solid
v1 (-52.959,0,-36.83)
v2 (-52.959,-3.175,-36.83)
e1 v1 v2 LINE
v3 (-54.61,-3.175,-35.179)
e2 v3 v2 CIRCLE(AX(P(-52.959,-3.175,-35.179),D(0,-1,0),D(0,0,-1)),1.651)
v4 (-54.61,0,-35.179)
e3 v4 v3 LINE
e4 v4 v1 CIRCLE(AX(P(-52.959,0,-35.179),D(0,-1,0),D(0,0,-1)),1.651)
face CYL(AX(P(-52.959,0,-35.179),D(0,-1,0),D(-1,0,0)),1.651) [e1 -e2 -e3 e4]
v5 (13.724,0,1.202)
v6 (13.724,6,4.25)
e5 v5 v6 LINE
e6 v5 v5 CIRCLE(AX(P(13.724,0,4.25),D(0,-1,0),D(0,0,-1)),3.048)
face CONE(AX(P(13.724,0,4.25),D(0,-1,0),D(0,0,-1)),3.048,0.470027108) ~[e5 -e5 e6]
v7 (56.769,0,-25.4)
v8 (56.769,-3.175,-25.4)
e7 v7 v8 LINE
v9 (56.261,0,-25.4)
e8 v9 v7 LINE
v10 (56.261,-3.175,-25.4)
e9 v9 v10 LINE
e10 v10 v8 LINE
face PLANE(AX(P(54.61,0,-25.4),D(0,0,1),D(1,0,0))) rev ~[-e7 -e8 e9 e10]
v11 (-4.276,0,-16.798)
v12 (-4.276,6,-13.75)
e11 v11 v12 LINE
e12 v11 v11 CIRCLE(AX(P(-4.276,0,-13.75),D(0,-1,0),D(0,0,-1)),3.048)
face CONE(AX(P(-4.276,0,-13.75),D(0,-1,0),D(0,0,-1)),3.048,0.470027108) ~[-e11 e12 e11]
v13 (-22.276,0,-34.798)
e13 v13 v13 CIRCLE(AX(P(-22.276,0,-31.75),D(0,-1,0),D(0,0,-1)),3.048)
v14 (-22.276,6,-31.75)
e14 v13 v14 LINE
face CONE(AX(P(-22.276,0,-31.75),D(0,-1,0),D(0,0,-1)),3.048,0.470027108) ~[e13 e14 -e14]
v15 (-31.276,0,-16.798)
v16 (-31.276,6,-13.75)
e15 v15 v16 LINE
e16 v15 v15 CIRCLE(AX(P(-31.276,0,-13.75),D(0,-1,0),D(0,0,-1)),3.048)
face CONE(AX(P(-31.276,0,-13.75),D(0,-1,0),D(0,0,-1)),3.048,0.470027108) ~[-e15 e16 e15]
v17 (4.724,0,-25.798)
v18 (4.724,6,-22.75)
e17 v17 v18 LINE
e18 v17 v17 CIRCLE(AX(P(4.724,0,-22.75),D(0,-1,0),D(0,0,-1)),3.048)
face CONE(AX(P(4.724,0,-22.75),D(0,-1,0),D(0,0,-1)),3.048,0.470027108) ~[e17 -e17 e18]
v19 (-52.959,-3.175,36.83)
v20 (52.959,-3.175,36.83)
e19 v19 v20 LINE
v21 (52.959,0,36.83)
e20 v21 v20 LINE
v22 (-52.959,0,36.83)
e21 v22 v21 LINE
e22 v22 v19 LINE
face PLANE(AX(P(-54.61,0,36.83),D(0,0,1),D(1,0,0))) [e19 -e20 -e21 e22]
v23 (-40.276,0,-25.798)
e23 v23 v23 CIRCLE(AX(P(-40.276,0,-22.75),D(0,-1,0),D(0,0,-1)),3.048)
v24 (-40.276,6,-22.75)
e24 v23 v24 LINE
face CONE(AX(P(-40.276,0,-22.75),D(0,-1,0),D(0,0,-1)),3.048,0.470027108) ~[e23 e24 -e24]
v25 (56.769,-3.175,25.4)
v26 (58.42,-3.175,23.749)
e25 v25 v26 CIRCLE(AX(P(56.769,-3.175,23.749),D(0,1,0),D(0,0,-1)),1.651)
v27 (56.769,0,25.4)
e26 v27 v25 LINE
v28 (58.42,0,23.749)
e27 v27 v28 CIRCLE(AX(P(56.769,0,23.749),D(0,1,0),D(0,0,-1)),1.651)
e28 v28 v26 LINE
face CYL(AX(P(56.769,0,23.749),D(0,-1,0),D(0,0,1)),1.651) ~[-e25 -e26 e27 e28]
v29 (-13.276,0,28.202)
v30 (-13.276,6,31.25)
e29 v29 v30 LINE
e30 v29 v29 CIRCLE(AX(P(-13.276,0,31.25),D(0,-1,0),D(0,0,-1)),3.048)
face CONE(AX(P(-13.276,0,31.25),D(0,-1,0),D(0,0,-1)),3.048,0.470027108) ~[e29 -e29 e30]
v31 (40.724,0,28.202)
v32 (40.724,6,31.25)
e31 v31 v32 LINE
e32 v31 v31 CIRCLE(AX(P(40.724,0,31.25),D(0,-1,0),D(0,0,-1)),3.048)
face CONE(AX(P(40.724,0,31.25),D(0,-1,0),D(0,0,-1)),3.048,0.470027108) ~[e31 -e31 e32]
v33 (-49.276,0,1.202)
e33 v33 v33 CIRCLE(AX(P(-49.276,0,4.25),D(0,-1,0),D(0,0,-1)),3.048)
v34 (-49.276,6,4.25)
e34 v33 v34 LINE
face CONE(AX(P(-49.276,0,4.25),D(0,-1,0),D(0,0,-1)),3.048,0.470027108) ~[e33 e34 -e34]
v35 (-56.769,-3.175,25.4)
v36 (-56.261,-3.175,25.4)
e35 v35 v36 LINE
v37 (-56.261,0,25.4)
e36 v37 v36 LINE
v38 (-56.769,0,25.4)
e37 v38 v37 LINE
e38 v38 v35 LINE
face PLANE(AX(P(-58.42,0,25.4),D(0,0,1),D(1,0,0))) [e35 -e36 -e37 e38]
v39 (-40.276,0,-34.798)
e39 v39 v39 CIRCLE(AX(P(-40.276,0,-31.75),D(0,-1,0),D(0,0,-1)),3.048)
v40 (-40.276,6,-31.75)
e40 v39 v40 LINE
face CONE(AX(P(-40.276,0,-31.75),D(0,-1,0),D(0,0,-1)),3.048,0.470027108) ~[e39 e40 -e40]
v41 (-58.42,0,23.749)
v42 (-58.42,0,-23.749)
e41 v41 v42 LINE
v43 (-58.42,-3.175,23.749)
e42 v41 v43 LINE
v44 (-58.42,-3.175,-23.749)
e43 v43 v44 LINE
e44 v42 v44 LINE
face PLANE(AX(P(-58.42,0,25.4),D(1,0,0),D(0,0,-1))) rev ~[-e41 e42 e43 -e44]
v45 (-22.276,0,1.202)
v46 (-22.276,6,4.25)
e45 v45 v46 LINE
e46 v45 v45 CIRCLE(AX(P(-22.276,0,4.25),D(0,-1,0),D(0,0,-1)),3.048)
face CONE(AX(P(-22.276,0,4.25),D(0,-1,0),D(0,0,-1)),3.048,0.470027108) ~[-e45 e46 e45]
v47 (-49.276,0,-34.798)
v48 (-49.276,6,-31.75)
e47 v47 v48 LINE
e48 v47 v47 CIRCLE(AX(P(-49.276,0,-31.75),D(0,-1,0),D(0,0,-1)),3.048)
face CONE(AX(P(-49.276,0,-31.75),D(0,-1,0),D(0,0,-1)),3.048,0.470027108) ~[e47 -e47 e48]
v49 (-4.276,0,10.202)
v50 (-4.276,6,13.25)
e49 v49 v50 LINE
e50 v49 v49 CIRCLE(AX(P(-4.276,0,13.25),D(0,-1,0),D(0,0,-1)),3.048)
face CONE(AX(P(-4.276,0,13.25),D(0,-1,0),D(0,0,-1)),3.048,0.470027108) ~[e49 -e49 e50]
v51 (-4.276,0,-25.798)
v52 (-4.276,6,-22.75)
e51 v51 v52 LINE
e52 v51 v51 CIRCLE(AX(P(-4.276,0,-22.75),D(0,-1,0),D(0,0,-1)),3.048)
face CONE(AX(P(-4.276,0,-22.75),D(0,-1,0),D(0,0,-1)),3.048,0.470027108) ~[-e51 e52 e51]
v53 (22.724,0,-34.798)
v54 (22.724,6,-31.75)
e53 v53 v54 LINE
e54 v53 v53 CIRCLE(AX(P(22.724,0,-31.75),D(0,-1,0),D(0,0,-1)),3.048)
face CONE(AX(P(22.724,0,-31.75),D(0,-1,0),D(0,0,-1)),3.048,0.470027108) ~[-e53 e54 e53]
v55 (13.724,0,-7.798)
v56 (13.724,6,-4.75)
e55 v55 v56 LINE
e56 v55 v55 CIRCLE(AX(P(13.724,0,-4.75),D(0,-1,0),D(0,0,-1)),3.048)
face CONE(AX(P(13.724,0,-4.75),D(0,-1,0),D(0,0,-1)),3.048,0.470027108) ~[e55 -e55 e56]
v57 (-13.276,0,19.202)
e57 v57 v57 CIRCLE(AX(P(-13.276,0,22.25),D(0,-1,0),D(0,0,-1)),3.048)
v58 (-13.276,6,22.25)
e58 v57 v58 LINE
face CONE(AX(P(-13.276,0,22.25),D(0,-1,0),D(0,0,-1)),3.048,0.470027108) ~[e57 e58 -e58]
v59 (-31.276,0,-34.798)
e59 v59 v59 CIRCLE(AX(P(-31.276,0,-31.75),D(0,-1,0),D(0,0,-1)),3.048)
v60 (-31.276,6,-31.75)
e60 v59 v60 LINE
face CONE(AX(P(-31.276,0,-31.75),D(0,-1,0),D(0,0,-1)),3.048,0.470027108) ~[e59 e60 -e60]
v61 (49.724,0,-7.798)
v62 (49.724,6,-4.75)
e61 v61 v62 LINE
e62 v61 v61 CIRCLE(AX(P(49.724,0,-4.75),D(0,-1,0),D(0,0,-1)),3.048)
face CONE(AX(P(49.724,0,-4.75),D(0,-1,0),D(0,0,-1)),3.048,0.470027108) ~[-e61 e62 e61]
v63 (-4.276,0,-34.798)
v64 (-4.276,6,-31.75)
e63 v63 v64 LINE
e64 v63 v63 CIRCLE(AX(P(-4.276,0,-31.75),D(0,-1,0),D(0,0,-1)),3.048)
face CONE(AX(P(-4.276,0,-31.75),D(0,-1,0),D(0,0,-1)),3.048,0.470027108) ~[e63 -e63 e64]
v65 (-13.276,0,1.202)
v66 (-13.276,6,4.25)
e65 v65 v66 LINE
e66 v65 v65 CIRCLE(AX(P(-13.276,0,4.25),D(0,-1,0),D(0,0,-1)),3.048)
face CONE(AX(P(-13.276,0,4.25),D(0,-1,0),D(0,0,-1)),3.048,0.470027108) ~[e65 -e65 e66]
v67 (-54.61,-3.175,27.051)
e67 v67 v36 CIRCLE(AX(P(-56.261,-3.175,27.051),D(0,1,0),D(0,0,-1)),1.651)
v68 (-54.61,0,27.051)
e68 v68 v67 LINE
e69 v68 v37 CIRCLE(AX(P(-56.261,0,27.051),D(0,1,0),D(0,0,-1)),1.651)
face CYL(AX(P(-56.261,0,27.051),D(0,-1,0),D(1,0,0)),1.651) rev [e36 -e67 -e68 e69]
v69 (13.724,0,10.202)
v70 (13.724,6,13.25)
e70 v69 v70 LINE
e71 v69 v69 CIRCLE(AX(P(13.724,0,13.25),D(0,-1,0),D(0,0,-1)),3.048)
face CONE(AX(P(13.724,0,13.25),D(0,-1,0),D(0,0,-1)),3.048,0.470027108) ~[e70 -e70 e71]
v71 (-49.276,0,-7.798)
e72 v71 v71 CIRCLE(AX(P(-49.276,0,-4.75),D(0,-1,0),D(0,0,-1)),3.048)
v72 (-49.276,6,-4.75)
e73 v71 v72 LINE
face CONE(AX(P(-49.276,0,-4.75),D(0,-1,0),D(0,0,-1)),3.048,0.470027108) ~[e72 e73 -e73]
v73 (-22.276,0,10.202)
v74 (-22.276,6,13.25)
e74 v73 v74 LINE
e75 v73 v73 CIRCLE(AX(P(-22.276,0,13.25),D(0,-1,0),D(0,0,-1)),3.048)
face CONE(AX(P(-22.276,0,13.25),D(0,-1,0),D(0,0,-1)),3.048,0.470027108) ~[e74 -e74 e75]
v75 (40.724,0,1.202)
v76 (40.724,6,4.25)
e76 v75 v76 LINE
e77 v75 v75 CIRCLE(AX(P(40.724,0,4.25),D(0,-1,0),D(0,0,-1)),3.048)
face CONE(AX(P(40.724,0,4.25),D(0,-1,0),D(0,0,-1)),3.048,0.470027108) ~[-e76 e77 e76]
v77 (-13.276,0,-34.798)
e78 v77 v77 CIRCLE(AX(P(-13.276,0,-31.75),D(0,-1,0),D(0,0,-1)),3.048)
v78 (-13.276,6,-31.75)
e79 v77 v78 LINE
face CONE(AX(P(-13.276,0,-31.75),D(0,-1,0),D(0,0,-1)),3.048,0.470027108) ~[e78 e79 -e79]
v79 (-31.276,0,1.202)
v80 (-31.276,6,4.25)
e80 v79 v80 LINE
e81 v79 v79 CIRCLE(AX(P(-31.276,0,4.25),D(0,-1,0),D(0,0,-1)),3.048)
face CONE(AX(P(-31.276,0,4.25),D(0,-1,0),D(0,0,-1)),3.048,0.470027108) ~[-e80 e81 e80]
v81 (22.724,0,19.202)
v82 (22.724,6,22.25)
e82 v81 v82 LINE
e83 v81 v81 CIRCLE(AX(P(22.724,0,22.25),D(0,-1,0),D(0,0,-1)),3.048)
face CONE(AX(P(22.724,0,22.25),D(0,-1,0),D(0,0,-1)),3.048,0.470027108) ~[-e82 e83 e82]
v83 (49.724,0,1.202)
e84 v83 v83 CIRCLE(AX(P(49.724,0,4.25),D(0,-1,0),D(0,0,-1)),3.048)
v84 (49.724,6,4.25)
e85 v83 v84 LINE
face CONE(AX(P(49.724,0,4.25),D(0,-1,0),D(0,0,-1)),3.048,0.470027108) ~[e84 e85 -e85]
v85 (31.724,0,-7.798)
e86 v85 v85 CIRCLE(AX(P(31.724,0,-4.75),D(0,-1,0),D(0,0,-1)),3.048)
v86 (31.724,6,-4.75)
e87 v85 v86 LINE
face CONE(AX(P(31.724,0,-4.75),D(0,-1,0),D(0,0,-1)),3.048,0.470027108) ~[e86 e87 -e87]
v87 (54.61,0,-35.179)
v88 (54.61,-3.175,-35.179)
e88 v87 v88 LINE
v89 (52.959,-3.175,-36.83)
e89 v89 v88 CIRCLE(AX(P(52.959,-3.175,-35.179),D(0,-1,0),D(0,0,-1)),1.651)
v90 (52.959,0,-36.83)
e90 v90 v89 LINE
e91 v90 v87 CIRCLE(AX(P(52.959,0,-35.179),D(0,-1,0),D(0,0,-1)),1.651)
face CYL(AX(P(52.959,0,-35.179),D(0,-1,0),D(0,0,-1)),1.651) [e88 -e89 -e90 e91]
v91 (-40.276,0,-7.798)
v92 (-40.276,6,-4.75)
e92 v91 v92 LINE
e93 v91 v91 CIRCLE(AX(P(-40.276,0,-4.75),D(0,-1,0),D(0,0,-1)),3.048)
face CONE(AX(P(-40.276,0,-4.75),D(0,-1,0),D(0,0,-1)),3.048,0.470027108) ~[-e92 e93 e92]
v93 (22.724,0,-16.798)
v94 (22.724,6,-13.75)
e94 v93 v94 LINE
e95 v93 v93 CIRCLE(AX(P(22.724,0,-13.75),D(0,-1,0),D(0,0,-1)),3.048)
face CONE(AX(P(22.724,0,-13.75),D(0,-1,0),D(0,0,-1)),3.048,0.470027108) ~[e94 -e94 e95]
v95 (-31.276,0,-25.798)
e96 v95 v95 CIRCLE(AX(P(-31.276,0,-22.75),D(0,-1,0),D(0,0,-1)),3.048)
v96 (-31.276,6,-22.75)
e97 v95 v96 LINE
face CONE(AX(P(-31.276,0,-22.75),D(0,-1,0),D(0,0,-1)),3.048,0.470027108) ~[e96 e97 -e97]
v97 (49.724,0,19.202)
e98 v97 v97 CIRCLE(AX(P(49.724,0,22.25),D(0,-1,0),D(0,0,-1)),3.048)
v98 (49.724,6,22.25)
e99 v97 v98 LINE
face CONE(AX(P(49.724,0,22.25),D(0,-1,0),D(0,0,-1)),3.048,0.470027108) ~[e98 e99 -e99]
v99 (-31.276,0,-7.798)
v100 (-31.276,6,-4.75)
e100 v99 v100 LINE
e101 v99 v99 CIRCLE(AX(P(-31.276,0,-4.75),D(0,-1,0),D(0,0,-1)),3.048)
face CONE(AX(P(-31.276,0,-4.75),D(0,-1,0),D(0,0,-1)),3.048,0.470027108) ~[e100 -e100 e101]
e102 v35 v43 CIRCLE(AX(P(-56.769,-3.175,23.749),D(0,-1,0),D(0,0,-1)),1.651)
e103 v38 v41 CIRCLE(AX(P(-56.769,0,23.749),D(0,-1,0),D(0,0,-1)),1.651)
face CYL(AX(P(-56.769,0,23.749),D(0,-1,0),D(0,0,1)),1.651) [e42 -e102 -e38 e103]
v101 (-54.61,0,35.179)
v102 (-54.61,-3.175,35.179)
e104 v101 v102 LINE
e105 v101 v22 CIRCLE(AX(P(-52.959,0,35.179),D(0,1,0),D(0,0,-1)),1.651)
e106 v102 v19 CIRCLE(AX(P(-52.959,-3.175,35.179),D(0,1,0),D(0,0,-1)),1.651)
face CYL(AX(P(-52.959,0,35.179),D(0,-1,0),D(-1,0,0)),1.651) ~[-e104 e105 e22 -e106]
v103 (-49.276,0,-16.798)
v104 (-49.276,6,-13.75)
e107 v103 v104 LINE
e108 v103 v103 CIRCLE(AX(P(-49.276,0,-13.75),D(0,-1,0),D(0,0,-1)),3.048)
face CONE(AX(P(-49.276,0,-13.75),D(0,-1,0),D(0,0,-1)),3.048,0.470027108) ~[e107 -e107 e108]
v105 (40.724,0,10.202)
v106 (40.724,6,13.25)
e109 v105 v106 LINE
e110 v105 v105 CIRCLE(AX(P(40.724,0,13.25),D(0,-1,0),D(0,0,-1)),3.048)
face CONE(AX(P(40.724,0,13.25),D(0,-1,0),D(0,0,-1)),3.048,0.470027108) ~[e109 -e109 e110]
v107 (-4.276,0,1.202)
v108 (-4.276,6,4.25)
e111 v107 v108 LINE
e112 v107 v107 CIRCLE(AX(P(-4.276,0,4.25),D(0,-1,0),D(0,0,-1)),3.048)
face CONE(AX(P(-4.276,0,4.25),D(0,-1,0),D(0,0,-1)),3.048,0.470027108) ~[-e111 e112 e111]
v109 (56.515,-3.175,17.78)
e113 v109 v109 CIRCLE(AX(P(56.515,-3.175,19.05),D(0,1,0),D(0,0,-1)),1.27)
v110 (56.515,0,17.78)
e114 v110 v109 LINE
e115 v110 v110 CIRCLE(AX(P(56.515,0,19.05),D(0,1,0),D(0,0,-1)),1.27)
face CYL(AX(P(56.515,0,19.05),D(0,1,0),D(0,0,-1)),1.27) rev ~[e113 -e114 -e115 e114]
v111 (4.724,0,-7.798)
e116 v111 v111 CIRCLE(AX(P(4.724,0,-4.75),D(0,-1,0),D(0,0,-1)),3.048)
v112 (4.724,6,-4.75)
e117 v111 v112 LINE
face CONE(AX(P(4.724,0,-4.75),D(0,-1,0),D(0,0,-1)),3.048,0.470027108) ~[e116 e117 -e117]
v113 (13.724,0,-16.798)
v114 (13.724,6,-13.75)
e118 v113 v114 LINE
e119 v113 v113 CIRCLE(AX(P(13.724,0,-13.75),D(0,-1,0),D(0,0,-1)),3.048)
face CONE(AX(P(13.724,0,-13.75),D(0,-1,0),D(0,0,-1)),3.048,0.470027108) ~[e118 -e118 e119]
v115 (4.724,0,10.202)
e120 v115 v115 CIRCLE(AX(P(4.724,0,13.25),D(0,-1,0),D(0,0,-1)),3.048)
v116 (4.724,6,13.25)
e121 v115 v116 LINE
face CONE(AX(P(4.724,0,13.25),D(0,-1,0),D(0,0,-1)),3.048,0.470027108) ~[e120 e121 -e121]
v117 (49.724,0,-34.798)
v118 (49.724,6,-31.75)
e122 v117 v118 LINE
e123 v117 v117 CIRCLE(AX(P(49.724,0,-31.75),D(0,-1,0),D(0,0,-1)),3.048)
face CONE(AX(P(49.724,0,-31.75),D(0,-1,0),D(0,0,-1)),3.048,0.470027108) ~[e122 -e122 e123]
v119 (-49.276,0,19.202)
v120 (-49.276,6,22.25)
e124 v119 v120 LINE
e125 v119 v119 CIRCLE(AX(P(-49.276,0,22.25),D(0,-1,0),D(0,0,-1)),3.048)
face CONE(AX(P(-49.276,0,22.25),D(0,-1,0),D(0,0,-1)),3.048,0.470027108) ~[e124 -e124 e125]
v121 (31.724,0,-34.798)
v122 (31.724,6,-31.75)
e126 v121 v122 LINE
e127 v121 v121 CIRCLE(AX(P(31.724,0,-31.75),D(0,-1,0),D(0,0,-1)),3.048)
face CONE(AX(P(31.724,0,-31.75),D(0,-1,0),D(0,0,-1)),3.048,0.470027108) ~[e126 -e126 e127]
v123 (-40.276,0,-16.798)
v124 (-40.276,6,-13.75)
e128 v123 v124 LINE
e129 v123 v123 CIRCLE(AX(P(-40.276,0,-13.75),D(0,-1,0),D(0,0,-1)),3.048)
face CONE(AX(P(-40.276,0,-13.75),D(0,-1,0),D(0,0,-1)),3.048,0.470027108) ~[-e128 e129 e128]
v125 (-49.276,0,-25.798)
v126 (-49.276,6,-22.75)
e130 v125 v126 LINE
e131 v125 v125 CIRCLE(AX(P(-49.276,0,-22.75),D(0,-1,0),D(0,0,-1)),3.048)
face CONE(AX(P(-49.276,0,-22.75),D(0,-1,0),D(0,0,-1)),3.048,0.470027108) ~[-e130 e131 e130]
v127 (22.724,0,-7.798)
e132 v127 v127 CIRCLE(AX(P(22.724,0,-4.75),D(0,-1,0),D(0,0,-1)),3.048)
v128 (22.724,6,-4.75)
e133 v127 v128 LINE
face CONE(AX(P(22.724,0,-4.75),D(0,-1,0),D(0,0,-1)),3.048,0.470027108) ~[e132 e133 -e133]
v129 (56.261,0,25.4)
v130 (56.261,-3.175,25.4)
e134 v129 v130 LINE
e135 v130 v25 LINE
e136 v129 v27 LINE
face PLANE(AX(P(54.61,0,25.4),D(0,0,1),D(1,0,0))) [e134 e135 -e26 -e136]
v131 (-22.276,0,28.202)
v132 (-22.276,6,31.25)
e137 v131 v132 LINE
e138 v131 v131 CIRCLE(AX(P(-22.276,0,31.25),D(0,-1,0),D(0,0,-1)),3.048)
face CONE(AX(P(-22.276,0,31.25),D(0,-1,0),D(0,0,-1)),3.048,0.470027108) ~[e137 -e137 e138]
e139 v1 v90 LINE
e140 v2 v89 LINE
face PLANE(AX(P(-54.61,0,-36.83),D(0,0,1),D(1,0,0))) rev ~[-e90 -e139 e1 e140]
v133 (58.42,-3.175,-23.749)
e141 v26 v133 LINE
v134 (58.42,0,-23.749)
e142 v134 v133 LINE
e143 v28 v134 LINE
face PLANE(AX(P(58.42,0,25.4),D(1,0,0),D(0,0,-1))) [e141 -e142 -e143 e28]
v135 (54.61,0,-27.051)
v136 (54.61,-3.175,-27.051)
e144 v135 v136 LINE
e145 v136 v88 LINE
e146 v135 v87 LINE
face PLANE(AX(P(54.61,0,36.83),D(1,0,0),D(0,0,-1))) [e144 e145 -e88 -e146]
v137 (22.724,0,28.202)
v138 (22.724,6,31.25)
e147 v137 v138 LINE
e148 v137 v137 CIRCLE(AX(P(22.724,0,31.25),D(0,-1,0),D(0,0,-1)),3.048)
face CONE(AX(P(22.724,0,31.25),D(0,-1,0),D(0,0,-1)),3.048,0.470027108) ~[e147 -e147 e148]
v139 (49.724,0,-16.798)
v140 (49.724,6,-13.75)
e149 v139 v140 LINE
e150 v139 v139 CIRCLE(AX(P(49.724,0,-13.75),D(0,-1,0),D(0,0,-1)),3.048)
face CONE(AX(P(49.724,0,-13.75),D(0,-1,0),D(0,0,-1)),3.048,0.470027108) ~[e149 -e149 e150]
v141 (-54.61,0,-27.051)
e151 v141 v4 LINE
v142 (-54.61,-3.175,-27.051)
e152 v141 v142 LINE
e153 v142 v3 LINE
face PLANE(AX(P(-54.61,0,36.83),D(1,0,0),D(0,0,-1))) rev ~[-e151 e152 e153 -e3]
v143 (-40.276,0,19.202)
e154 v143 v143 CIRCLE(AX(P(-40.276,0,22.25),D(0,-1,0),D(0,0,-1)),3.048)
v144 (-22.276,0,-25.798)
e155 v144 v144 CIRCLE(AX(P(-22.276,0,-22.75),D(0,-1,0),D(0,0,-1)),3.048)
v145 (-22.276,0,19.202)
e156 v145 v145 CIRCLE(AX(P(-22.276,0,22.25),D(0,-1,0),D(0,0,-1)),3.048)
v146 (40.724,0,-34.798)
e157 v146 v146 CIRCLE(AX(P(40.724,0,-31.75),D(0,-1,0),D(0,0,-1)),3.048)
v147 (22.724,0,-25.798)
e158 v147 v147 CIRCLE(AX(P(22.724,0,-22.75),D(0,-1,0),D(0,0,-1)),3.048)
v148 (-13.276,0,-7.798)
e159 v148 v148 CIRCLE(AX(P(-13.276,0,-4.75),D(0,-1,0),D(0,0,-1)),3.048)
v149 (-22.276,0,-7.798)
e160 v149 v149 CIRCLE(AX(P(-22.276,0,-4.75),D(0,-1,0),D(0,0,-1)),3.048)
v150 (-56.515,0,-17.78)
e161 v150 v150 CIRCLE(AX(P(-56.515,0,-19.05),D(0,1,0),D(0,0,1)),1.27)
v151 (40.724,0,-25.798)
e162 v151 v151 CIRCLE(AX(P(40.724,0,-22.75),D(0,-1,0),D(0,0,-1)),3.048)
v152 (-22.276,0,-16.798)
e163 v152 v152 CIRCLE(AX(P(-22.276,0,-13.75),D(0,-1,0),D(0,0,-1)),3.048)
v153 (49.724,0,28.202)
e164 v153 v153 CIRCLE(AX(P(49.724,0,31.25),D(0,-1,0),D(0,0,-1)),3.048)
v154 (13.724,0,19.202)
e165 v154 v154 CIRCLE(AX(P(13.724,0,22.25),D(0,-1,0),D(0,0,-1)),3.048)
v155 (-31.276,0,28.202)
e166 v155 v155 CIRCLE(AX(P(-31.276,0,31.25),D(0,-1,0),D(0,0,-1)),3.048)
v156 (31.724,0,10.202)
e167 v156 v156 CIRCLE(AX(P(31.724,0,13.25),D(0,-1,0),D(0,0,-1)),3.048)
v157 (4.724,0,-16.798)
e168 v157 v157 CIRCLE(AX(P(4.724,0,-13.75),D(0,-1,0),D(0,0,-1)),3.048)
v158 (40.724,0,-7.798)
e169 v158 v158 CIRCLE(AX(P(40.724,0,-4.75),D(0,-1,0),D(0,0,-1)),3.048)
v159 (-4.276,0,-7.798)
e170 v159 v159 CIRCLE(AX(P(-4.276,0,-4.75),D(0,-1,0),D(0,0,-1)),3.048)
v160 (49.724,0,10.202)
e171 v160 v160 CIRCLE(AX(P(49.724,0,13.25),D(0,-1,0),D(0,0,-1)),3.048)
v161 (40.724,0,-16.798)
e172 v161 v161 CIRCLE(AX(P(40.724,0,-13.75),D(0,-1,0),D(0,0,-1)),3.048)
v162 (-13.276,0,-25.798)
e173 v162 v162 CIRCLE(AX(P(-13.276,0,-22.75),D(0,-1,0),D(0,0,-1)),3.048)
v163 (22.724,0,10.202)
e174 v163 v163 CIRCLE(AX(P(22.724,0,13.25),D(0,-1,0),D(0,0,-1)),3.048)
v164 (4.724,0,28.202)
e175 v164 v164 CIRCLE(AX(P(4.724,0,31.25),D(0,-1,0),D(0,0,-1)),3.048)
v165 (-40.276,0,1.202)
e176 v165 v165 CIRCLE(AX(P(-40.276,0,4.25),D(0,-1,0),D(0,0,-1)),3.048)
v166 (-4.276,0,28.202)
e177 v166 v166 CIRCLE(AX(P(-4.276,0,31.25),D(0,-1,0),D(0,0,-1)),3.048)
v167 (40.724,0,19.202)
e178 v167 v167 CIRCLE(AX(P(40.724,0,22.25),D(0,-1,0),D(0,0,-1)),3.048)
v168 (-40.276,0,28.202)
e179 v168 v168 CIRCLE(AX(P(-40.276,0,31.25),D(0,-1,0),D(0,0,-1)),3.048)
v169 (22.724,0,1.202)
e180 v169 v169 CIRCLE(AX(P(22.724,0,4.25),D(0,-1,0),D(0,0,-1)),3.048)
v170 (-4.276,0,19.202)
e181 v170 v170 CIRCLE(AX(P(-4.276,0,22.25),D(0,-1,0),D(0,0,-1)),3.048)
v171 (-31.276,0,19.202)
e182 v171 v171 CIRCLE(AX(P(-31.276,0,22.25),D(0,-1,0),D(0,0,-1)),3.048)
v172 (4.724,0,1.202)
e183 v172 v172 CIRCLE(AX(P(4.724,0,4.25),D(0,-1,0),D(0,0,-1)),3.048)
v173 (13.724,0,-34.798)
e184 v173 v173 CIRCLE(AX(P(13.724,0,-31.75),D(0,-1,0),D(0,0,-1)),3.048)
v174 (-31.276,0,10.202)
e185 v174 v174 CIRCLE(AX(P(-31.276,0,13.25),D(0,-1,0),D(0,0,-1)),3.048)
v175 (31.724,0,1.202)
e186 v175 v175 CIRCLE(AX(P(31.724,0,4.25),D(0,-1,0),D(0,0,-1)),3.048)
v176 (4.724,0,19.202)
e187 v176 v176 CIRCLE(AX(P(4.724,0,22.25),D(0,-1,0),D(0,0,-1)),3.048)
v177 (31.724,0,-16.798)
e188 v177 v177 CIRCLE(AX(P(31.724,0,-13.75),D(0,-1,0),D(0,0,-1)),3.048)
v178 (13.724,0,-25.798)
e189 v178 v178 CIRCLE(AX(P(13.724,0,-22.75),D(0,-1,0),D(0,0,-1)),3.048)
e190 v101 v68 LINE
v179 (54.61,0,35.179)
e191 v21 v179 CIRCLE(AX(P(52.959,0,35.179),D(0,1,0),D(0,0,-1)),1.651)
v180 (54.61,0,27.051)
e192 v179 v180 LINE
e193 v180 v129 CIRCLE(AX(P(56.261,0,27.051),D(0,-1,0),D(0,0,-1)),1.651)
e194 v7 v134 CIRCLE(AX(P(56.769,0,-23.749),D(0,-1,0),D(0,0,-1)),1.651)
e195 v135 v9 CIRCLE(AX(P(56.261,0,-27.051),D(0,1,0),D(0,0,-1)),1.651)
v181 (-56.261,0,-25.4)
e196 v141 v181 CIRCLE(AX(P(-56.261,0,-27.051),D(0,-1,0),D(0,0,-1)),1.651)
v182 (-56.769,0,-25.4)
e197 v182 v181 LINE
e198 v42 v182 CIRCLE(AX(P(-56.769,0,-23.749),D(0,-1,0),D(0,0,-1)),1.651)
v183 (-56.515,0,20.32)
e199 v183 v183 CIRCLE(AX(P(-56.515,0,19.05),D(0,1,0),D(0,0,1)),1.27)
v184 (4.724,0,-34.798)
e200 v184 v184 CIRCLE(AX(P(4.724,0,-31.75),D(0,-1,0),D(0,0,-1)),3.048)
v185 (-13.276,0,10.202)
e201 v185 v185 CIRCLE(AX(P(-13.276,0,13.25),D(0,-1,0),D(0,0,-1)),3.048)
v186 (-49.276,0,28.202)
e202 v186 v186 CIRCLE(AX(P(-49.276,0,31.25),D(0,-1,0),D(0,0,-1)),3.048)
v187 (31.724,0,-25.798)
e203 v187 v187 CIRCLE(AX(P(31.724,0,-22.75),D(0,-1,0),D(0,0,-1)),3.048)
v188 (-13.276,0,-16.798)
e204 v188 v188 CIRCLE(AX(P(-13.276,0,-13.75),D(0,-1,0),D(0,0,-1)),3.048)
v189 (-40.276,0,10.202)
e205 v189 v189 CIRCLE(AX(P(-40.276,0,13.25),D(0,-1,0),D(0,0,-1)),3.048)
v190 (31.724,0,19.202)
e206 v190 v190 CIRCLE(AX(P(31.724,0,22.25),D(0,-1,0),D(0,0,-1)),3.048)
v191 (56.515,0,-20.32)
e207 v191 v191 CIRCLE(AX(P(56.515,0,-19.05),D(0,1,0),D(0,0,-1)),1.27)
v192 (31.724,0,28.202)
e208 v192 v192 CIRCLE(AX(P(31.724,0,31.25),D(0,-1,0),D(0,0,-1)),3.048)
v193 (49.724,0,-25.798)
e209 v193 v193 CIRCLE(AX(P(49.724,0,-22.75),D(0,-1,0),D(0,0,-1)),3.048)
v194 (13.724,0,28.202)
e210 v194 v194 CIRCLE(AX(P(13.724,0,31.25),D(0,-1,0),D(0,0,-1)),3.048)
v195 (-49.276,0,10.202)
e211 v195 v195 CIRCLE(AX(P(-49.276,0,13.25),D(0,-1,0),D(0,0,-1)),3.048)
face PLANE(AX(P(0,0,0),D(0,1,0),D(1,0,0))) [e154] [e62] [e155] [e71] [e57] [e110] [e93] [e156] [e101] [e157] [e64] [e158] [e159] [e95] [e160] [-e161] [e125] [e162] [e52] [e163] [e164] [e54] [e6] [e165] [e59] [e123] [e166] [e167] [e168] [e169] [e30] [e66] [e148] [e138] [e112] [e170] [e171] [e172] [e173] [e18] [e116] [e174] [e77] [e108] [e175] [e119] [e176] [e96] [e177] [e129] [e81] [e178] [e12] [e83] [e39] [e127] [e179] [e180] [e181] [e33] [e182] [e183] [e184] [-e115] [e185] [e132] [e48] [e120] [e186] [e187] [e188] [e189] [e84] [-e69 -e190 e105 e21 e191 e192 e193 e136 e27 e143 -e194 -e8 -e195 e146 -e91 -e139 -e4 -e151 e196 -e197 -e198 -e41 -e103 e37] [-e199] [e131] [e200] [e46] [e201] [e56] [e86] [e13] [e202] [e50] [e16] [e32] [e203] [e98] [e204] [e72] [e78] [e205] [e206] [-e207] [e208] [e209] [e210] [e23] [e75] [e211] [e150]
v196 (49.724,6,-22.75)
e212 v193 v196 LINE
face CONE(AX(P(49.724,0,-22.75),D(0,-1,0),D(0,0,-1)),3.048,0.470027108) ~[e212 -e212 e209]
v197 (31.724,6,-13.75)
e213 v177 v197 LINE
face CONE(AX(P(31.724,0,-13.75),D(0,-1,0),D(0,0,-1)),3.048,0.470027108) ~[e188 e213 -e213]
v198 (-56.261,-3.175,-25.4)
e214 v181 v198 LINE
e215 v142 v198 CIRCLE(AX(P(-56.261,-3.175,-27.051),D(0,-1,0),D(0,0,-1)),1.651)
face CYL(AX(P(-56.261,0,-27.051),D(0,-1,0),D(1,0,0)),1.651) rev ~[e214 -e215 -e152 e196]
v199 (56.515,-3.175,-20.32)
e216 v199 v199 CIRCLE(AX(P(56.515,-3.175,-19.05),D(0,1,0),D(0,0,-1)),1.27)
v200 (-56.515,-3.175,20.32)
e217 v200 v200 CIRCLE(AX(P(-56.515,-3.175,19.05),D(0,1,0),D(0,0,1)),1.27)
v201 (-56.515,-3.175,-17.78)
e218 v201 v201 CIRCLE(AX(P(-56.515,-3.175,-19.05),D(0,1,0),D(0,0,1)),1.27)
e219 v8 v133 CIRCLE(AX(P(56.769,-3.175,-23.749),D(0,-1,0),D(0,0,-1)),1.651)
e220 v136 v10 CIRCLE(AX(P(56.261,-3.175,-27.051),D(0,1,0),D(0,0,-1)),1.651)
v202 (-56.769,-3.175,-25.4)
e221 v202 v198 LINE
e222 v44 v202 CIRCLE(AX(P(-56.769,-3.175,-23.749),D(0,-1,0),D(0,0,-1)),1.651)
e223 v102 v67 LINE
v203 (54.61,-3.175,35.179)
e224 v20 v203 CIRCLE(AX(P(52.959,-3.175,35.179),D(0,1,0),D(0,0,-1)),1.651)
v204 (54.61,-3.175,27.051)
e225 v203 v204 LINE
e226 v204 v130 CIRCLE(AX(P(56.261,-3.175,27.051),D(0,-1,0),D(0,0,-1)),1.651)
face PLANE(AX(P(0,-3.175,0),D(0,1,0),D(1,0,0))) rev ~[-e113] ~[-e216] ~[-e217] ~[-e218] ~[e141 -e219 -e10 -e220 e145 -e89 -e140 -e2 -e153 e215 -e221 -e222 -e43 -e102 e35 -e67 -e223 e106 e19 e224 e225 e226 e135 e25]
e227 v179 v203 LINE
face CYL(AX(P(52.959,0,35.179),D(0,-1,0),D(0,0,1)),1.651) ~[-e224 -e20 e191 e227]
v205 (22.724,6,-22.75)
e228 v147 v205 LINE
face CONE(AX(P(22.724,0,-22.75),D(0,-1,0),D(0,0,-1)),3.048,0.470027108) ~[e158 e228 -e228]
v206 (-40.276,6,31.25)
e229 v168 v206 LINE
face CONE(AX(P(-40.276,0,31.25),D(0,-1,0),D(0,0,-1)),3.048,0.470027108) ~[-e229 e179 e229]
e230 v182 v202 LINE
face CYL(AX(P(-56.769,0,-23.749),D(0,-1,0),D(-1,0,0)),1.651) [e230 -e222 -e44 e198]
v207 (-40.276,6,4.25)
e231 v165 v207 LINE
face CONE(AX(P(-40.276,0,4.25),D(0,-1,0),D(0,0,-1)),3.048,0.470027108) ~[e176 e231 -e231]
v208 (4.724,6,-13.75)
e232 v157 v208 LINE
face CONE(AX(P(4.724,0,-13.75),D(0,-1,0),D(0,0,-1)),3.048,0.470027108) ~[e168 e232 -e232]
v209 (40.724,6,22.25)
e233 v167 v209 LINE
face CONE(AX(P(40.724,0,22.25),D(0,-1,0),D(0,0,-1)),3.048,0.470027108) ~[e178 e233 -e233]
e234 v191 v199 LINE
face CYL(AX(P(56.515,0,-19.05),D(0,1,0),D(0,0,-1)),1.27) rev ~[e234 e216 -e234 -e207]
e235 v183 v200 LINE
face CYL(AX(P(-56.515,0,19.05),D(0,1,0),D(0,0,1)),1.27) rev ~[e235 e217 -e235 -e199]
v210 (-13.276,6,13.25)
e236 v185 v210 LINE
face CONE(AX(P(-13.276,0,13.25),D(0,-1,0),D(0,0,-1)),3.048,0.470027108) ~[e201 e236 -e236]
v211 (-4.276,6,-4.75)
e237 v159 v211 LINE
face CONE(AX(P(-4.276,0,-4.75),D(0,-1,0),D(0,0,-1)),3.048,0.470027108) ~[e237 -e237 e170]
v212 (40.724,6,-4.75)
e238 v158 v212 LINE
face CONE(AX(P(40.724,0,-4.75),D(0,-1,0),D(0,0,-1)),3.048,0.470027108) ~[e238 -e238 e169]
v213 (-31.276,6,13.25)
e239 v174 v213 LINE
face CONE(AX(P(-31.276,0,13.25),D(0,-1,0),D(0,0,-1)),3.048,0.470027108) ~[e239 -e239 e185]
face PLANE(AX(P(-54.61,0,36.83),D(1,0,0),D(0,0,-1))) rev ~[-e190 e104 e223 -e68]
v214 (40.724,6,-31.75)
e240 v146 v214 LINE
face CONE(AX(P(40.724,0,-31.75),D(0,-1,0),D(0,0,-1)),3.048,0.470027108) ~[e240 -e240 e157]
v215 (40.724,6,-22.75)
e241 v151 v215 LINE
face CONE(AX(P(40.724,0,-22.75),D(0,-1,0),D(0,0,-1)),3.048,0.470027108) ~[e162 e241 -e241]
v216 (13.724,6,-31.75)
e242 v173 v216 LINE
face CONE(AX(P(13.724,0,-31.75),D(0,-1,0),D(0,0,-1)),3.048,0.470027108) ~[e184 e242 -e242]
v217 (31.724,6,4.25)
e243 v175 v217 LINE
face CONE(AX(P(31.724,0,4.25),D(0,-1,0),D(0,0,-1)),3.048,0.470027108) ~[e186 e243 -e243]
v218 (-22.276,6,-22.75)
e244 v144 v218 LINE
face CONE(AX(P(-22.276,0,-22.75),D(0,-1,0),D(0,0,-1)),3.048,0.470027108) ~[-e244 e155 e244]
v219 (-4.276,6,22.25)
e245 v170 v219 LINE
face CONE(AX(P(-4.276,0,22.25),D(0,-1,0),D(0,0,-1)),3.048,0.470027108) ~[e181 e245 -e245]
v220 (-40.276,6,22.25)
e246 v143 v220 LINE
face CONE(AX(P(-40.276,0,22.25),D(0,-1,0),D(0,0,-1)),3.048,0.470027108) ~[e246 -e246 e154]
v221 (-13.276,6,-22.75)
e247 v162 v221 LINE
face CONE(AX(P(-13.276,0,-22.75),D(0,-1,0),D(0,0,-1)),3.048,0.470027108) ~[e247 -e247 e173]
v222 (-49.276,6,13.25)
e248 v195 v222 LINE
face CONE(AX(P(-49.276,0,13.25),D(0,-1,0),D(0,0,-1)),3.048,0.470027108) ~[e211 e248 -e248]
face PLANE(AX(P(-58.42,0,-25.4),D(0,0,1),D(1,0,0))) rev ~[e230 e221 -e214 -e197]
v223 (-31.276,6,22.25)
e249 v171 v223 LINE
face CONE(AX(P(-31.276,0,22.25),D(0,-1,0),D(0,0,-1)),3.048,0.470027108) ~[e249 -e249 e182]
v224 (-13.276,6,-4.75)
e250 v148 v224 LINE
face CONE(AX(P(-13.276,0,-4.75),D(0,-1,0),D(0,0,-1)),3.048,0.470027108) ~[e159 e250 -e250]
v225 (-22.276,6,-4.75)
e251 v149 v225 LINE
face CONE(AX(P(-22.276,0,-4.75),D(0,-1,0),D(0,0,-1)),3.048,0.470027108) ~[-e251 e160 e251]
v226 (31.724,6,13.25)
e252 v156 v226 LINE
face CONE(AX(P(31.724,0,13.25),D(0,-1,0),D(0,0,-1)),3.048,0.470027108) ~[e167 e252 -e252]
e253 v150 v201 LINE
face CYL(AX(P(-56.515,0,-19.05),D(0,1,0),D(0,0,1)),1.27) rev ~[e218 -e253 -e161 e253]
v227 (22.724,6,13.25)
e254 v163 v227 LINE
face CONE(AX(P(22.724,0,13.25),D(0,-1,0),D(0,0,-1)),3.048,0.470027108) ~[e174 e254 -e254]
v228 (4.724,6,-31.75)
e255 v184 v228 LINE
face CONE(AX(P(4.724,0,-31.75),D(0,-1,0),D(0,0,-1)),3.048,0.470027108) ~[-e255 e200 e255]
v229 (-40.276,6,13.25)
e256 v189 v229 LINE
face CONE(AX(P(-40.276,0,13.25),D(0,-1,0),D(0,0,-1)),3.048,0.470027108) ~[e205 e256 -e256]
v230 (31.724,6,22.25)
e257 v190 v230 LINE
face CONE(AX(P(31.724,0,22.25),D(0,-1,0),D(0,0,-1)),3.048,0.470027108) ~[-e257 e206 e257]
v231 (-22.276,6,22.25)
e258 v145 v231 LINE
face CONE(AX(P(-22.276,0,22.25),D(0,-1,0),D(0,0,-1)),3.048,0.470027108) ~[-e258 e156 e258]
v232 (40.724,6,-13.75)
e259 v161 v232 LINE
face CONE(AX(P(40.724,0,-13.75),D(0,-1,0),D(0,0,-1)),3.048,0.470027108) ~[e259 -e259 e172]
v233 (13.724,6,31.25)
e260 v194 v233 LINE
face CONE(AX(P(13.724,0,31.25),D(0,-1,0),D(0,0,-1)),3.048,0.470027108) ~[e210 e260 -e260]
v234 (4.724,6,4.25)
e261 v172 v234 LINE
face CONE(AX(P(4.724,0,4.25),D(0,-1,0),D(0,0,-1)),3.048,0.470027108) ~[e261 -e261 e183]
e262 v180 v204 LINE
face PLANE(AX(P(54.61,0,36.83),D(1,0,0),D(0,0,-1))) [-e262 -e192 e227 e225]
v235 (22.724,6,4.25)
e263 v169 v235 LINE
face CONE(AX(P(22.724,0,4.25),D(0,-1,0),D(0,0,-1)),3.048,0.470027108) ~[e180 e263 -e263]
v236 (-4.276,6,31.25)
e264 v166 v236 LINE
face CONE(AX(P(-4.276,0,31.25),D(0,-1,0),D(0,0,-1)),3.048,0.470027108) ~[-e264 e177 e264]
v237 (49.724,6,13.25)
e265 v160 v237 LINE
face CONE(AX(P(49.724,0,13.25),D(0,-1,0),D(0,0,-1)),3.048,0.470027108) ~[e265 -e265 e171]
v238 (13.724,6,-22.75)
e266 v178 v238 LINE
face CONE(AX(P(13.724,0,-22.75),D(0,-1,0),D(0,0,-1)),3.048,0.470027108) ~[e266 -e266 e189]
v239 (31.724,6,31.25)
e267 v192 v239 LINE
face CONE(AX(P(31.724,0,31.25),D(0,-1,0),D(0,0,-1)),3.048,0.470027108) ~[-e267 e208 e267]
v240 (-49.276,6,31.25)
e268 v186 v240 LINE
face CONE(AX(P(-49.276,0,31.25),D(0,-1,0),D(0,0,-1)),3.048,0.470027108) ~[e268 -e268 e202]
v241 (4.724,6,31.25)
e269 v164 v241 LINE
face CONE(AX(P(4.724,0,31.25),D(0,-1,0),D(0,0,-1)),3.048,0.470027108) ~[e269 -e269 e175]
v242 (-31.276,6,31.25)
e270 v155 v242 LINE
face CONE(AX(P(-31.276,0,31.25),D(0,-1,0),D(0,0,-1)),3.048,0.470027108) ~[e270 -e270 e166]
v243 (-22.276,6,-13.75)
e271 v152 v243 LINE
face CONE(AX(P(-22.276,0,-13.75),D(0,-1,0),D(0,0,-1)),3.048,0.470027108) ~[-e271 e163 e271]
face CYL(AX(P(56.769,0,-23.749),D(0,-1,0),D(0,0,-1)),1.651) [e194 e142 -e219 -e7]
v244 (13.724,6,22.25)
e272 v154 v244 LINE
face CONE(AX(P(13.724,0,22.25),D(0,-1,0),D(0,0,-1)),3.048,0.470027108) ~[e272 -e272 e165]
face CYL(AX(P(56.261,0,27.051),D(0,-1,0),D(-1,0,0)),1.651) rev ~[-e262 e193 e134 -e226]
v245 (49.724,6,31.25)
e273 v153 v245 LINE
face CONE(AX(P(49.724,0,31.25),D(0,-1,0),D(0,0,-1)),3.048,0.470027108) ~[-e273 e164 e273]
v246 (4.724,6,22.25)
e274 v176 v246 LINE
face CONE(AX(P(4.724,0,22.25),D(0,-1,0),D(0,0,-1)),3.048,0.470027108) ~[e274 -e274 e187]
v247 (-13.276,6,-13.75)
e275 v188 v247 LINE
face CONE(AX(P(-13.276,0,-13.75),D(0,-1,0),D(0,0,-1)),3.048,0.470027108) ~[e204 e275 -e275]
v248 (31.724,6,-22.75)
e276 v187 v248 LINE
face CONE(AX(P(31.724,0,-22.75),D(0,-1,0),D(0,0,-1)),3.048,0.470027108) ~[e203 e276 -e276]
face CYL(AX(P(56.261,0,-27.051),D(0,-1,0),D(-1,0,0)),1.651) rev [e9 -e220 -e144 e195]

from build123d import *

# Parameters (mm, degrees)
SKETCH1_W            = 109.22
SKETCH1_H            = 73.66
BOSS_EXTRUDE1_DEPTH  = 3.175
LPATTERN1_COUNT      = 12
LPATTERN1_PITCH      = 9
LPATTERN1_COUNT_DIR2 = 8
LPATTERN1_PITCH_DIR2 = 9
SKETCH3_W            = 3.81
SKETCH3_H            = 50.8
SKETCH3_R            = 1.27
BOSS_EXTRUDE2_DEPTH  = 3.175
FILLET1_R            = 1.651


with BuildPart() as part:
    # Sketch1 → Boss-Extrude1 (new body)
    with BuildSketch(Plane(origin=(0, 0, 0), x_dir=(1, 0, 0), z_dir=(0, 1, 0))):
        Rectangle(SKETCH1_W, SKETCH1_H)
    extrude(amount=-BOSS_EXTRUDE1_DEPTH)

    # Sketch2 → Revolve3 (revolve)
    with BuildSketch(Plane.XY.offset(-31.75), mode=Mode.PRIVATE) as revolve3_sk:
        Polygon((-52.324, 0), (-49.276, 6), (-49.276, 0), align=None)
    revolve3 = revolve(revolve3_sk.sketch.rotate(Axis((-49.276, 6, -31.75), (0, -1, 0)), 90), axis=Axis((-49.276, 6, -31.75), (0, -1, 0)))

    # LPattern1: Revolve3 12 × 8
    with Locations(*[(i * LPATTERN1_PITCH, 0, j * LPATTERN1_PITCH_DIR2) for i in range(LPATTERN1_COUNT) for j in range(LPATTERN1_COUNT_DIR2) if (i, j) != (0, 0)]):
        add(revolve3)

    # Sketch3 → Boss-Extrude2 (add)
    # profile 1 of 2: a face of its own
    with BuildSketch(Plane(origin=(0, 0, 0), x_dir=(1, 0, 0), z_dir=(0, 1, 0))):
        with Locations((-56.515, 0)):
            Rectangle(SKETCH3_W, SKETCH3_H)
        with Locations(Location((-56.515, 19.05, 0), (0, 0, 270))):
            Circle(SKETCH3_R, mode=Mode.SUBTRACT)
        with Locations(Location((-56.515, -19.05, 0), (0, 0, 270))):
            Circle(SKETCH3_R, mode=Mode.SUBTRACT)
    # profile 2 of 2: a face of its own
    with BuildSketch(Plane(origin=(0, 0, 0), x_dir=(1, 0, 0), z_dir=(0, 1, 0))):
        with Locations((56.515, 0)):
            Rectangle(SKETCH3_W, SKETCH3_H)
        with Locations(Location((56.515, -19.05, 0), (0, 0, 90))):
            Circle(SKETCH3_R, mode=Mode.SUBTRACT)
        with Locations(Location((56.515, 19.05, 0), (0, 0, 90))):
            Circle(SKETCH3_R, mode=Mode.SUBTRACT)
    extrude(amount=-BOSS_EXTRUDE2_DEPTH)

    # Fillet1
    fillet1_edges = [part.edges().sort_by_distance(p)[0] for p in [
        (-54.61, -1.5875, -25.4),
        (-54.61, -1.5875, 25.4),
        (-58.42, -1.5875, 25.4),
        (-58.42, -1.5875, -25.4),
        (54.61, -1.5875, -25.4),
        (58.42, -1.5875, -25.4),
        (58.42, -1.5875, 25.4),
        (54.61, -1.5875, 25.4),
        (54.61, -1.5875, 36.83),
        (-54.61, -1.5875, 36.83),
        (-54.61, -1.5875, -36.83),
        (54.61, -1.5875, -36.83),
    ]]
    fillet(fillet1_edges, radius=FILLET1_R)


solid = part.part
